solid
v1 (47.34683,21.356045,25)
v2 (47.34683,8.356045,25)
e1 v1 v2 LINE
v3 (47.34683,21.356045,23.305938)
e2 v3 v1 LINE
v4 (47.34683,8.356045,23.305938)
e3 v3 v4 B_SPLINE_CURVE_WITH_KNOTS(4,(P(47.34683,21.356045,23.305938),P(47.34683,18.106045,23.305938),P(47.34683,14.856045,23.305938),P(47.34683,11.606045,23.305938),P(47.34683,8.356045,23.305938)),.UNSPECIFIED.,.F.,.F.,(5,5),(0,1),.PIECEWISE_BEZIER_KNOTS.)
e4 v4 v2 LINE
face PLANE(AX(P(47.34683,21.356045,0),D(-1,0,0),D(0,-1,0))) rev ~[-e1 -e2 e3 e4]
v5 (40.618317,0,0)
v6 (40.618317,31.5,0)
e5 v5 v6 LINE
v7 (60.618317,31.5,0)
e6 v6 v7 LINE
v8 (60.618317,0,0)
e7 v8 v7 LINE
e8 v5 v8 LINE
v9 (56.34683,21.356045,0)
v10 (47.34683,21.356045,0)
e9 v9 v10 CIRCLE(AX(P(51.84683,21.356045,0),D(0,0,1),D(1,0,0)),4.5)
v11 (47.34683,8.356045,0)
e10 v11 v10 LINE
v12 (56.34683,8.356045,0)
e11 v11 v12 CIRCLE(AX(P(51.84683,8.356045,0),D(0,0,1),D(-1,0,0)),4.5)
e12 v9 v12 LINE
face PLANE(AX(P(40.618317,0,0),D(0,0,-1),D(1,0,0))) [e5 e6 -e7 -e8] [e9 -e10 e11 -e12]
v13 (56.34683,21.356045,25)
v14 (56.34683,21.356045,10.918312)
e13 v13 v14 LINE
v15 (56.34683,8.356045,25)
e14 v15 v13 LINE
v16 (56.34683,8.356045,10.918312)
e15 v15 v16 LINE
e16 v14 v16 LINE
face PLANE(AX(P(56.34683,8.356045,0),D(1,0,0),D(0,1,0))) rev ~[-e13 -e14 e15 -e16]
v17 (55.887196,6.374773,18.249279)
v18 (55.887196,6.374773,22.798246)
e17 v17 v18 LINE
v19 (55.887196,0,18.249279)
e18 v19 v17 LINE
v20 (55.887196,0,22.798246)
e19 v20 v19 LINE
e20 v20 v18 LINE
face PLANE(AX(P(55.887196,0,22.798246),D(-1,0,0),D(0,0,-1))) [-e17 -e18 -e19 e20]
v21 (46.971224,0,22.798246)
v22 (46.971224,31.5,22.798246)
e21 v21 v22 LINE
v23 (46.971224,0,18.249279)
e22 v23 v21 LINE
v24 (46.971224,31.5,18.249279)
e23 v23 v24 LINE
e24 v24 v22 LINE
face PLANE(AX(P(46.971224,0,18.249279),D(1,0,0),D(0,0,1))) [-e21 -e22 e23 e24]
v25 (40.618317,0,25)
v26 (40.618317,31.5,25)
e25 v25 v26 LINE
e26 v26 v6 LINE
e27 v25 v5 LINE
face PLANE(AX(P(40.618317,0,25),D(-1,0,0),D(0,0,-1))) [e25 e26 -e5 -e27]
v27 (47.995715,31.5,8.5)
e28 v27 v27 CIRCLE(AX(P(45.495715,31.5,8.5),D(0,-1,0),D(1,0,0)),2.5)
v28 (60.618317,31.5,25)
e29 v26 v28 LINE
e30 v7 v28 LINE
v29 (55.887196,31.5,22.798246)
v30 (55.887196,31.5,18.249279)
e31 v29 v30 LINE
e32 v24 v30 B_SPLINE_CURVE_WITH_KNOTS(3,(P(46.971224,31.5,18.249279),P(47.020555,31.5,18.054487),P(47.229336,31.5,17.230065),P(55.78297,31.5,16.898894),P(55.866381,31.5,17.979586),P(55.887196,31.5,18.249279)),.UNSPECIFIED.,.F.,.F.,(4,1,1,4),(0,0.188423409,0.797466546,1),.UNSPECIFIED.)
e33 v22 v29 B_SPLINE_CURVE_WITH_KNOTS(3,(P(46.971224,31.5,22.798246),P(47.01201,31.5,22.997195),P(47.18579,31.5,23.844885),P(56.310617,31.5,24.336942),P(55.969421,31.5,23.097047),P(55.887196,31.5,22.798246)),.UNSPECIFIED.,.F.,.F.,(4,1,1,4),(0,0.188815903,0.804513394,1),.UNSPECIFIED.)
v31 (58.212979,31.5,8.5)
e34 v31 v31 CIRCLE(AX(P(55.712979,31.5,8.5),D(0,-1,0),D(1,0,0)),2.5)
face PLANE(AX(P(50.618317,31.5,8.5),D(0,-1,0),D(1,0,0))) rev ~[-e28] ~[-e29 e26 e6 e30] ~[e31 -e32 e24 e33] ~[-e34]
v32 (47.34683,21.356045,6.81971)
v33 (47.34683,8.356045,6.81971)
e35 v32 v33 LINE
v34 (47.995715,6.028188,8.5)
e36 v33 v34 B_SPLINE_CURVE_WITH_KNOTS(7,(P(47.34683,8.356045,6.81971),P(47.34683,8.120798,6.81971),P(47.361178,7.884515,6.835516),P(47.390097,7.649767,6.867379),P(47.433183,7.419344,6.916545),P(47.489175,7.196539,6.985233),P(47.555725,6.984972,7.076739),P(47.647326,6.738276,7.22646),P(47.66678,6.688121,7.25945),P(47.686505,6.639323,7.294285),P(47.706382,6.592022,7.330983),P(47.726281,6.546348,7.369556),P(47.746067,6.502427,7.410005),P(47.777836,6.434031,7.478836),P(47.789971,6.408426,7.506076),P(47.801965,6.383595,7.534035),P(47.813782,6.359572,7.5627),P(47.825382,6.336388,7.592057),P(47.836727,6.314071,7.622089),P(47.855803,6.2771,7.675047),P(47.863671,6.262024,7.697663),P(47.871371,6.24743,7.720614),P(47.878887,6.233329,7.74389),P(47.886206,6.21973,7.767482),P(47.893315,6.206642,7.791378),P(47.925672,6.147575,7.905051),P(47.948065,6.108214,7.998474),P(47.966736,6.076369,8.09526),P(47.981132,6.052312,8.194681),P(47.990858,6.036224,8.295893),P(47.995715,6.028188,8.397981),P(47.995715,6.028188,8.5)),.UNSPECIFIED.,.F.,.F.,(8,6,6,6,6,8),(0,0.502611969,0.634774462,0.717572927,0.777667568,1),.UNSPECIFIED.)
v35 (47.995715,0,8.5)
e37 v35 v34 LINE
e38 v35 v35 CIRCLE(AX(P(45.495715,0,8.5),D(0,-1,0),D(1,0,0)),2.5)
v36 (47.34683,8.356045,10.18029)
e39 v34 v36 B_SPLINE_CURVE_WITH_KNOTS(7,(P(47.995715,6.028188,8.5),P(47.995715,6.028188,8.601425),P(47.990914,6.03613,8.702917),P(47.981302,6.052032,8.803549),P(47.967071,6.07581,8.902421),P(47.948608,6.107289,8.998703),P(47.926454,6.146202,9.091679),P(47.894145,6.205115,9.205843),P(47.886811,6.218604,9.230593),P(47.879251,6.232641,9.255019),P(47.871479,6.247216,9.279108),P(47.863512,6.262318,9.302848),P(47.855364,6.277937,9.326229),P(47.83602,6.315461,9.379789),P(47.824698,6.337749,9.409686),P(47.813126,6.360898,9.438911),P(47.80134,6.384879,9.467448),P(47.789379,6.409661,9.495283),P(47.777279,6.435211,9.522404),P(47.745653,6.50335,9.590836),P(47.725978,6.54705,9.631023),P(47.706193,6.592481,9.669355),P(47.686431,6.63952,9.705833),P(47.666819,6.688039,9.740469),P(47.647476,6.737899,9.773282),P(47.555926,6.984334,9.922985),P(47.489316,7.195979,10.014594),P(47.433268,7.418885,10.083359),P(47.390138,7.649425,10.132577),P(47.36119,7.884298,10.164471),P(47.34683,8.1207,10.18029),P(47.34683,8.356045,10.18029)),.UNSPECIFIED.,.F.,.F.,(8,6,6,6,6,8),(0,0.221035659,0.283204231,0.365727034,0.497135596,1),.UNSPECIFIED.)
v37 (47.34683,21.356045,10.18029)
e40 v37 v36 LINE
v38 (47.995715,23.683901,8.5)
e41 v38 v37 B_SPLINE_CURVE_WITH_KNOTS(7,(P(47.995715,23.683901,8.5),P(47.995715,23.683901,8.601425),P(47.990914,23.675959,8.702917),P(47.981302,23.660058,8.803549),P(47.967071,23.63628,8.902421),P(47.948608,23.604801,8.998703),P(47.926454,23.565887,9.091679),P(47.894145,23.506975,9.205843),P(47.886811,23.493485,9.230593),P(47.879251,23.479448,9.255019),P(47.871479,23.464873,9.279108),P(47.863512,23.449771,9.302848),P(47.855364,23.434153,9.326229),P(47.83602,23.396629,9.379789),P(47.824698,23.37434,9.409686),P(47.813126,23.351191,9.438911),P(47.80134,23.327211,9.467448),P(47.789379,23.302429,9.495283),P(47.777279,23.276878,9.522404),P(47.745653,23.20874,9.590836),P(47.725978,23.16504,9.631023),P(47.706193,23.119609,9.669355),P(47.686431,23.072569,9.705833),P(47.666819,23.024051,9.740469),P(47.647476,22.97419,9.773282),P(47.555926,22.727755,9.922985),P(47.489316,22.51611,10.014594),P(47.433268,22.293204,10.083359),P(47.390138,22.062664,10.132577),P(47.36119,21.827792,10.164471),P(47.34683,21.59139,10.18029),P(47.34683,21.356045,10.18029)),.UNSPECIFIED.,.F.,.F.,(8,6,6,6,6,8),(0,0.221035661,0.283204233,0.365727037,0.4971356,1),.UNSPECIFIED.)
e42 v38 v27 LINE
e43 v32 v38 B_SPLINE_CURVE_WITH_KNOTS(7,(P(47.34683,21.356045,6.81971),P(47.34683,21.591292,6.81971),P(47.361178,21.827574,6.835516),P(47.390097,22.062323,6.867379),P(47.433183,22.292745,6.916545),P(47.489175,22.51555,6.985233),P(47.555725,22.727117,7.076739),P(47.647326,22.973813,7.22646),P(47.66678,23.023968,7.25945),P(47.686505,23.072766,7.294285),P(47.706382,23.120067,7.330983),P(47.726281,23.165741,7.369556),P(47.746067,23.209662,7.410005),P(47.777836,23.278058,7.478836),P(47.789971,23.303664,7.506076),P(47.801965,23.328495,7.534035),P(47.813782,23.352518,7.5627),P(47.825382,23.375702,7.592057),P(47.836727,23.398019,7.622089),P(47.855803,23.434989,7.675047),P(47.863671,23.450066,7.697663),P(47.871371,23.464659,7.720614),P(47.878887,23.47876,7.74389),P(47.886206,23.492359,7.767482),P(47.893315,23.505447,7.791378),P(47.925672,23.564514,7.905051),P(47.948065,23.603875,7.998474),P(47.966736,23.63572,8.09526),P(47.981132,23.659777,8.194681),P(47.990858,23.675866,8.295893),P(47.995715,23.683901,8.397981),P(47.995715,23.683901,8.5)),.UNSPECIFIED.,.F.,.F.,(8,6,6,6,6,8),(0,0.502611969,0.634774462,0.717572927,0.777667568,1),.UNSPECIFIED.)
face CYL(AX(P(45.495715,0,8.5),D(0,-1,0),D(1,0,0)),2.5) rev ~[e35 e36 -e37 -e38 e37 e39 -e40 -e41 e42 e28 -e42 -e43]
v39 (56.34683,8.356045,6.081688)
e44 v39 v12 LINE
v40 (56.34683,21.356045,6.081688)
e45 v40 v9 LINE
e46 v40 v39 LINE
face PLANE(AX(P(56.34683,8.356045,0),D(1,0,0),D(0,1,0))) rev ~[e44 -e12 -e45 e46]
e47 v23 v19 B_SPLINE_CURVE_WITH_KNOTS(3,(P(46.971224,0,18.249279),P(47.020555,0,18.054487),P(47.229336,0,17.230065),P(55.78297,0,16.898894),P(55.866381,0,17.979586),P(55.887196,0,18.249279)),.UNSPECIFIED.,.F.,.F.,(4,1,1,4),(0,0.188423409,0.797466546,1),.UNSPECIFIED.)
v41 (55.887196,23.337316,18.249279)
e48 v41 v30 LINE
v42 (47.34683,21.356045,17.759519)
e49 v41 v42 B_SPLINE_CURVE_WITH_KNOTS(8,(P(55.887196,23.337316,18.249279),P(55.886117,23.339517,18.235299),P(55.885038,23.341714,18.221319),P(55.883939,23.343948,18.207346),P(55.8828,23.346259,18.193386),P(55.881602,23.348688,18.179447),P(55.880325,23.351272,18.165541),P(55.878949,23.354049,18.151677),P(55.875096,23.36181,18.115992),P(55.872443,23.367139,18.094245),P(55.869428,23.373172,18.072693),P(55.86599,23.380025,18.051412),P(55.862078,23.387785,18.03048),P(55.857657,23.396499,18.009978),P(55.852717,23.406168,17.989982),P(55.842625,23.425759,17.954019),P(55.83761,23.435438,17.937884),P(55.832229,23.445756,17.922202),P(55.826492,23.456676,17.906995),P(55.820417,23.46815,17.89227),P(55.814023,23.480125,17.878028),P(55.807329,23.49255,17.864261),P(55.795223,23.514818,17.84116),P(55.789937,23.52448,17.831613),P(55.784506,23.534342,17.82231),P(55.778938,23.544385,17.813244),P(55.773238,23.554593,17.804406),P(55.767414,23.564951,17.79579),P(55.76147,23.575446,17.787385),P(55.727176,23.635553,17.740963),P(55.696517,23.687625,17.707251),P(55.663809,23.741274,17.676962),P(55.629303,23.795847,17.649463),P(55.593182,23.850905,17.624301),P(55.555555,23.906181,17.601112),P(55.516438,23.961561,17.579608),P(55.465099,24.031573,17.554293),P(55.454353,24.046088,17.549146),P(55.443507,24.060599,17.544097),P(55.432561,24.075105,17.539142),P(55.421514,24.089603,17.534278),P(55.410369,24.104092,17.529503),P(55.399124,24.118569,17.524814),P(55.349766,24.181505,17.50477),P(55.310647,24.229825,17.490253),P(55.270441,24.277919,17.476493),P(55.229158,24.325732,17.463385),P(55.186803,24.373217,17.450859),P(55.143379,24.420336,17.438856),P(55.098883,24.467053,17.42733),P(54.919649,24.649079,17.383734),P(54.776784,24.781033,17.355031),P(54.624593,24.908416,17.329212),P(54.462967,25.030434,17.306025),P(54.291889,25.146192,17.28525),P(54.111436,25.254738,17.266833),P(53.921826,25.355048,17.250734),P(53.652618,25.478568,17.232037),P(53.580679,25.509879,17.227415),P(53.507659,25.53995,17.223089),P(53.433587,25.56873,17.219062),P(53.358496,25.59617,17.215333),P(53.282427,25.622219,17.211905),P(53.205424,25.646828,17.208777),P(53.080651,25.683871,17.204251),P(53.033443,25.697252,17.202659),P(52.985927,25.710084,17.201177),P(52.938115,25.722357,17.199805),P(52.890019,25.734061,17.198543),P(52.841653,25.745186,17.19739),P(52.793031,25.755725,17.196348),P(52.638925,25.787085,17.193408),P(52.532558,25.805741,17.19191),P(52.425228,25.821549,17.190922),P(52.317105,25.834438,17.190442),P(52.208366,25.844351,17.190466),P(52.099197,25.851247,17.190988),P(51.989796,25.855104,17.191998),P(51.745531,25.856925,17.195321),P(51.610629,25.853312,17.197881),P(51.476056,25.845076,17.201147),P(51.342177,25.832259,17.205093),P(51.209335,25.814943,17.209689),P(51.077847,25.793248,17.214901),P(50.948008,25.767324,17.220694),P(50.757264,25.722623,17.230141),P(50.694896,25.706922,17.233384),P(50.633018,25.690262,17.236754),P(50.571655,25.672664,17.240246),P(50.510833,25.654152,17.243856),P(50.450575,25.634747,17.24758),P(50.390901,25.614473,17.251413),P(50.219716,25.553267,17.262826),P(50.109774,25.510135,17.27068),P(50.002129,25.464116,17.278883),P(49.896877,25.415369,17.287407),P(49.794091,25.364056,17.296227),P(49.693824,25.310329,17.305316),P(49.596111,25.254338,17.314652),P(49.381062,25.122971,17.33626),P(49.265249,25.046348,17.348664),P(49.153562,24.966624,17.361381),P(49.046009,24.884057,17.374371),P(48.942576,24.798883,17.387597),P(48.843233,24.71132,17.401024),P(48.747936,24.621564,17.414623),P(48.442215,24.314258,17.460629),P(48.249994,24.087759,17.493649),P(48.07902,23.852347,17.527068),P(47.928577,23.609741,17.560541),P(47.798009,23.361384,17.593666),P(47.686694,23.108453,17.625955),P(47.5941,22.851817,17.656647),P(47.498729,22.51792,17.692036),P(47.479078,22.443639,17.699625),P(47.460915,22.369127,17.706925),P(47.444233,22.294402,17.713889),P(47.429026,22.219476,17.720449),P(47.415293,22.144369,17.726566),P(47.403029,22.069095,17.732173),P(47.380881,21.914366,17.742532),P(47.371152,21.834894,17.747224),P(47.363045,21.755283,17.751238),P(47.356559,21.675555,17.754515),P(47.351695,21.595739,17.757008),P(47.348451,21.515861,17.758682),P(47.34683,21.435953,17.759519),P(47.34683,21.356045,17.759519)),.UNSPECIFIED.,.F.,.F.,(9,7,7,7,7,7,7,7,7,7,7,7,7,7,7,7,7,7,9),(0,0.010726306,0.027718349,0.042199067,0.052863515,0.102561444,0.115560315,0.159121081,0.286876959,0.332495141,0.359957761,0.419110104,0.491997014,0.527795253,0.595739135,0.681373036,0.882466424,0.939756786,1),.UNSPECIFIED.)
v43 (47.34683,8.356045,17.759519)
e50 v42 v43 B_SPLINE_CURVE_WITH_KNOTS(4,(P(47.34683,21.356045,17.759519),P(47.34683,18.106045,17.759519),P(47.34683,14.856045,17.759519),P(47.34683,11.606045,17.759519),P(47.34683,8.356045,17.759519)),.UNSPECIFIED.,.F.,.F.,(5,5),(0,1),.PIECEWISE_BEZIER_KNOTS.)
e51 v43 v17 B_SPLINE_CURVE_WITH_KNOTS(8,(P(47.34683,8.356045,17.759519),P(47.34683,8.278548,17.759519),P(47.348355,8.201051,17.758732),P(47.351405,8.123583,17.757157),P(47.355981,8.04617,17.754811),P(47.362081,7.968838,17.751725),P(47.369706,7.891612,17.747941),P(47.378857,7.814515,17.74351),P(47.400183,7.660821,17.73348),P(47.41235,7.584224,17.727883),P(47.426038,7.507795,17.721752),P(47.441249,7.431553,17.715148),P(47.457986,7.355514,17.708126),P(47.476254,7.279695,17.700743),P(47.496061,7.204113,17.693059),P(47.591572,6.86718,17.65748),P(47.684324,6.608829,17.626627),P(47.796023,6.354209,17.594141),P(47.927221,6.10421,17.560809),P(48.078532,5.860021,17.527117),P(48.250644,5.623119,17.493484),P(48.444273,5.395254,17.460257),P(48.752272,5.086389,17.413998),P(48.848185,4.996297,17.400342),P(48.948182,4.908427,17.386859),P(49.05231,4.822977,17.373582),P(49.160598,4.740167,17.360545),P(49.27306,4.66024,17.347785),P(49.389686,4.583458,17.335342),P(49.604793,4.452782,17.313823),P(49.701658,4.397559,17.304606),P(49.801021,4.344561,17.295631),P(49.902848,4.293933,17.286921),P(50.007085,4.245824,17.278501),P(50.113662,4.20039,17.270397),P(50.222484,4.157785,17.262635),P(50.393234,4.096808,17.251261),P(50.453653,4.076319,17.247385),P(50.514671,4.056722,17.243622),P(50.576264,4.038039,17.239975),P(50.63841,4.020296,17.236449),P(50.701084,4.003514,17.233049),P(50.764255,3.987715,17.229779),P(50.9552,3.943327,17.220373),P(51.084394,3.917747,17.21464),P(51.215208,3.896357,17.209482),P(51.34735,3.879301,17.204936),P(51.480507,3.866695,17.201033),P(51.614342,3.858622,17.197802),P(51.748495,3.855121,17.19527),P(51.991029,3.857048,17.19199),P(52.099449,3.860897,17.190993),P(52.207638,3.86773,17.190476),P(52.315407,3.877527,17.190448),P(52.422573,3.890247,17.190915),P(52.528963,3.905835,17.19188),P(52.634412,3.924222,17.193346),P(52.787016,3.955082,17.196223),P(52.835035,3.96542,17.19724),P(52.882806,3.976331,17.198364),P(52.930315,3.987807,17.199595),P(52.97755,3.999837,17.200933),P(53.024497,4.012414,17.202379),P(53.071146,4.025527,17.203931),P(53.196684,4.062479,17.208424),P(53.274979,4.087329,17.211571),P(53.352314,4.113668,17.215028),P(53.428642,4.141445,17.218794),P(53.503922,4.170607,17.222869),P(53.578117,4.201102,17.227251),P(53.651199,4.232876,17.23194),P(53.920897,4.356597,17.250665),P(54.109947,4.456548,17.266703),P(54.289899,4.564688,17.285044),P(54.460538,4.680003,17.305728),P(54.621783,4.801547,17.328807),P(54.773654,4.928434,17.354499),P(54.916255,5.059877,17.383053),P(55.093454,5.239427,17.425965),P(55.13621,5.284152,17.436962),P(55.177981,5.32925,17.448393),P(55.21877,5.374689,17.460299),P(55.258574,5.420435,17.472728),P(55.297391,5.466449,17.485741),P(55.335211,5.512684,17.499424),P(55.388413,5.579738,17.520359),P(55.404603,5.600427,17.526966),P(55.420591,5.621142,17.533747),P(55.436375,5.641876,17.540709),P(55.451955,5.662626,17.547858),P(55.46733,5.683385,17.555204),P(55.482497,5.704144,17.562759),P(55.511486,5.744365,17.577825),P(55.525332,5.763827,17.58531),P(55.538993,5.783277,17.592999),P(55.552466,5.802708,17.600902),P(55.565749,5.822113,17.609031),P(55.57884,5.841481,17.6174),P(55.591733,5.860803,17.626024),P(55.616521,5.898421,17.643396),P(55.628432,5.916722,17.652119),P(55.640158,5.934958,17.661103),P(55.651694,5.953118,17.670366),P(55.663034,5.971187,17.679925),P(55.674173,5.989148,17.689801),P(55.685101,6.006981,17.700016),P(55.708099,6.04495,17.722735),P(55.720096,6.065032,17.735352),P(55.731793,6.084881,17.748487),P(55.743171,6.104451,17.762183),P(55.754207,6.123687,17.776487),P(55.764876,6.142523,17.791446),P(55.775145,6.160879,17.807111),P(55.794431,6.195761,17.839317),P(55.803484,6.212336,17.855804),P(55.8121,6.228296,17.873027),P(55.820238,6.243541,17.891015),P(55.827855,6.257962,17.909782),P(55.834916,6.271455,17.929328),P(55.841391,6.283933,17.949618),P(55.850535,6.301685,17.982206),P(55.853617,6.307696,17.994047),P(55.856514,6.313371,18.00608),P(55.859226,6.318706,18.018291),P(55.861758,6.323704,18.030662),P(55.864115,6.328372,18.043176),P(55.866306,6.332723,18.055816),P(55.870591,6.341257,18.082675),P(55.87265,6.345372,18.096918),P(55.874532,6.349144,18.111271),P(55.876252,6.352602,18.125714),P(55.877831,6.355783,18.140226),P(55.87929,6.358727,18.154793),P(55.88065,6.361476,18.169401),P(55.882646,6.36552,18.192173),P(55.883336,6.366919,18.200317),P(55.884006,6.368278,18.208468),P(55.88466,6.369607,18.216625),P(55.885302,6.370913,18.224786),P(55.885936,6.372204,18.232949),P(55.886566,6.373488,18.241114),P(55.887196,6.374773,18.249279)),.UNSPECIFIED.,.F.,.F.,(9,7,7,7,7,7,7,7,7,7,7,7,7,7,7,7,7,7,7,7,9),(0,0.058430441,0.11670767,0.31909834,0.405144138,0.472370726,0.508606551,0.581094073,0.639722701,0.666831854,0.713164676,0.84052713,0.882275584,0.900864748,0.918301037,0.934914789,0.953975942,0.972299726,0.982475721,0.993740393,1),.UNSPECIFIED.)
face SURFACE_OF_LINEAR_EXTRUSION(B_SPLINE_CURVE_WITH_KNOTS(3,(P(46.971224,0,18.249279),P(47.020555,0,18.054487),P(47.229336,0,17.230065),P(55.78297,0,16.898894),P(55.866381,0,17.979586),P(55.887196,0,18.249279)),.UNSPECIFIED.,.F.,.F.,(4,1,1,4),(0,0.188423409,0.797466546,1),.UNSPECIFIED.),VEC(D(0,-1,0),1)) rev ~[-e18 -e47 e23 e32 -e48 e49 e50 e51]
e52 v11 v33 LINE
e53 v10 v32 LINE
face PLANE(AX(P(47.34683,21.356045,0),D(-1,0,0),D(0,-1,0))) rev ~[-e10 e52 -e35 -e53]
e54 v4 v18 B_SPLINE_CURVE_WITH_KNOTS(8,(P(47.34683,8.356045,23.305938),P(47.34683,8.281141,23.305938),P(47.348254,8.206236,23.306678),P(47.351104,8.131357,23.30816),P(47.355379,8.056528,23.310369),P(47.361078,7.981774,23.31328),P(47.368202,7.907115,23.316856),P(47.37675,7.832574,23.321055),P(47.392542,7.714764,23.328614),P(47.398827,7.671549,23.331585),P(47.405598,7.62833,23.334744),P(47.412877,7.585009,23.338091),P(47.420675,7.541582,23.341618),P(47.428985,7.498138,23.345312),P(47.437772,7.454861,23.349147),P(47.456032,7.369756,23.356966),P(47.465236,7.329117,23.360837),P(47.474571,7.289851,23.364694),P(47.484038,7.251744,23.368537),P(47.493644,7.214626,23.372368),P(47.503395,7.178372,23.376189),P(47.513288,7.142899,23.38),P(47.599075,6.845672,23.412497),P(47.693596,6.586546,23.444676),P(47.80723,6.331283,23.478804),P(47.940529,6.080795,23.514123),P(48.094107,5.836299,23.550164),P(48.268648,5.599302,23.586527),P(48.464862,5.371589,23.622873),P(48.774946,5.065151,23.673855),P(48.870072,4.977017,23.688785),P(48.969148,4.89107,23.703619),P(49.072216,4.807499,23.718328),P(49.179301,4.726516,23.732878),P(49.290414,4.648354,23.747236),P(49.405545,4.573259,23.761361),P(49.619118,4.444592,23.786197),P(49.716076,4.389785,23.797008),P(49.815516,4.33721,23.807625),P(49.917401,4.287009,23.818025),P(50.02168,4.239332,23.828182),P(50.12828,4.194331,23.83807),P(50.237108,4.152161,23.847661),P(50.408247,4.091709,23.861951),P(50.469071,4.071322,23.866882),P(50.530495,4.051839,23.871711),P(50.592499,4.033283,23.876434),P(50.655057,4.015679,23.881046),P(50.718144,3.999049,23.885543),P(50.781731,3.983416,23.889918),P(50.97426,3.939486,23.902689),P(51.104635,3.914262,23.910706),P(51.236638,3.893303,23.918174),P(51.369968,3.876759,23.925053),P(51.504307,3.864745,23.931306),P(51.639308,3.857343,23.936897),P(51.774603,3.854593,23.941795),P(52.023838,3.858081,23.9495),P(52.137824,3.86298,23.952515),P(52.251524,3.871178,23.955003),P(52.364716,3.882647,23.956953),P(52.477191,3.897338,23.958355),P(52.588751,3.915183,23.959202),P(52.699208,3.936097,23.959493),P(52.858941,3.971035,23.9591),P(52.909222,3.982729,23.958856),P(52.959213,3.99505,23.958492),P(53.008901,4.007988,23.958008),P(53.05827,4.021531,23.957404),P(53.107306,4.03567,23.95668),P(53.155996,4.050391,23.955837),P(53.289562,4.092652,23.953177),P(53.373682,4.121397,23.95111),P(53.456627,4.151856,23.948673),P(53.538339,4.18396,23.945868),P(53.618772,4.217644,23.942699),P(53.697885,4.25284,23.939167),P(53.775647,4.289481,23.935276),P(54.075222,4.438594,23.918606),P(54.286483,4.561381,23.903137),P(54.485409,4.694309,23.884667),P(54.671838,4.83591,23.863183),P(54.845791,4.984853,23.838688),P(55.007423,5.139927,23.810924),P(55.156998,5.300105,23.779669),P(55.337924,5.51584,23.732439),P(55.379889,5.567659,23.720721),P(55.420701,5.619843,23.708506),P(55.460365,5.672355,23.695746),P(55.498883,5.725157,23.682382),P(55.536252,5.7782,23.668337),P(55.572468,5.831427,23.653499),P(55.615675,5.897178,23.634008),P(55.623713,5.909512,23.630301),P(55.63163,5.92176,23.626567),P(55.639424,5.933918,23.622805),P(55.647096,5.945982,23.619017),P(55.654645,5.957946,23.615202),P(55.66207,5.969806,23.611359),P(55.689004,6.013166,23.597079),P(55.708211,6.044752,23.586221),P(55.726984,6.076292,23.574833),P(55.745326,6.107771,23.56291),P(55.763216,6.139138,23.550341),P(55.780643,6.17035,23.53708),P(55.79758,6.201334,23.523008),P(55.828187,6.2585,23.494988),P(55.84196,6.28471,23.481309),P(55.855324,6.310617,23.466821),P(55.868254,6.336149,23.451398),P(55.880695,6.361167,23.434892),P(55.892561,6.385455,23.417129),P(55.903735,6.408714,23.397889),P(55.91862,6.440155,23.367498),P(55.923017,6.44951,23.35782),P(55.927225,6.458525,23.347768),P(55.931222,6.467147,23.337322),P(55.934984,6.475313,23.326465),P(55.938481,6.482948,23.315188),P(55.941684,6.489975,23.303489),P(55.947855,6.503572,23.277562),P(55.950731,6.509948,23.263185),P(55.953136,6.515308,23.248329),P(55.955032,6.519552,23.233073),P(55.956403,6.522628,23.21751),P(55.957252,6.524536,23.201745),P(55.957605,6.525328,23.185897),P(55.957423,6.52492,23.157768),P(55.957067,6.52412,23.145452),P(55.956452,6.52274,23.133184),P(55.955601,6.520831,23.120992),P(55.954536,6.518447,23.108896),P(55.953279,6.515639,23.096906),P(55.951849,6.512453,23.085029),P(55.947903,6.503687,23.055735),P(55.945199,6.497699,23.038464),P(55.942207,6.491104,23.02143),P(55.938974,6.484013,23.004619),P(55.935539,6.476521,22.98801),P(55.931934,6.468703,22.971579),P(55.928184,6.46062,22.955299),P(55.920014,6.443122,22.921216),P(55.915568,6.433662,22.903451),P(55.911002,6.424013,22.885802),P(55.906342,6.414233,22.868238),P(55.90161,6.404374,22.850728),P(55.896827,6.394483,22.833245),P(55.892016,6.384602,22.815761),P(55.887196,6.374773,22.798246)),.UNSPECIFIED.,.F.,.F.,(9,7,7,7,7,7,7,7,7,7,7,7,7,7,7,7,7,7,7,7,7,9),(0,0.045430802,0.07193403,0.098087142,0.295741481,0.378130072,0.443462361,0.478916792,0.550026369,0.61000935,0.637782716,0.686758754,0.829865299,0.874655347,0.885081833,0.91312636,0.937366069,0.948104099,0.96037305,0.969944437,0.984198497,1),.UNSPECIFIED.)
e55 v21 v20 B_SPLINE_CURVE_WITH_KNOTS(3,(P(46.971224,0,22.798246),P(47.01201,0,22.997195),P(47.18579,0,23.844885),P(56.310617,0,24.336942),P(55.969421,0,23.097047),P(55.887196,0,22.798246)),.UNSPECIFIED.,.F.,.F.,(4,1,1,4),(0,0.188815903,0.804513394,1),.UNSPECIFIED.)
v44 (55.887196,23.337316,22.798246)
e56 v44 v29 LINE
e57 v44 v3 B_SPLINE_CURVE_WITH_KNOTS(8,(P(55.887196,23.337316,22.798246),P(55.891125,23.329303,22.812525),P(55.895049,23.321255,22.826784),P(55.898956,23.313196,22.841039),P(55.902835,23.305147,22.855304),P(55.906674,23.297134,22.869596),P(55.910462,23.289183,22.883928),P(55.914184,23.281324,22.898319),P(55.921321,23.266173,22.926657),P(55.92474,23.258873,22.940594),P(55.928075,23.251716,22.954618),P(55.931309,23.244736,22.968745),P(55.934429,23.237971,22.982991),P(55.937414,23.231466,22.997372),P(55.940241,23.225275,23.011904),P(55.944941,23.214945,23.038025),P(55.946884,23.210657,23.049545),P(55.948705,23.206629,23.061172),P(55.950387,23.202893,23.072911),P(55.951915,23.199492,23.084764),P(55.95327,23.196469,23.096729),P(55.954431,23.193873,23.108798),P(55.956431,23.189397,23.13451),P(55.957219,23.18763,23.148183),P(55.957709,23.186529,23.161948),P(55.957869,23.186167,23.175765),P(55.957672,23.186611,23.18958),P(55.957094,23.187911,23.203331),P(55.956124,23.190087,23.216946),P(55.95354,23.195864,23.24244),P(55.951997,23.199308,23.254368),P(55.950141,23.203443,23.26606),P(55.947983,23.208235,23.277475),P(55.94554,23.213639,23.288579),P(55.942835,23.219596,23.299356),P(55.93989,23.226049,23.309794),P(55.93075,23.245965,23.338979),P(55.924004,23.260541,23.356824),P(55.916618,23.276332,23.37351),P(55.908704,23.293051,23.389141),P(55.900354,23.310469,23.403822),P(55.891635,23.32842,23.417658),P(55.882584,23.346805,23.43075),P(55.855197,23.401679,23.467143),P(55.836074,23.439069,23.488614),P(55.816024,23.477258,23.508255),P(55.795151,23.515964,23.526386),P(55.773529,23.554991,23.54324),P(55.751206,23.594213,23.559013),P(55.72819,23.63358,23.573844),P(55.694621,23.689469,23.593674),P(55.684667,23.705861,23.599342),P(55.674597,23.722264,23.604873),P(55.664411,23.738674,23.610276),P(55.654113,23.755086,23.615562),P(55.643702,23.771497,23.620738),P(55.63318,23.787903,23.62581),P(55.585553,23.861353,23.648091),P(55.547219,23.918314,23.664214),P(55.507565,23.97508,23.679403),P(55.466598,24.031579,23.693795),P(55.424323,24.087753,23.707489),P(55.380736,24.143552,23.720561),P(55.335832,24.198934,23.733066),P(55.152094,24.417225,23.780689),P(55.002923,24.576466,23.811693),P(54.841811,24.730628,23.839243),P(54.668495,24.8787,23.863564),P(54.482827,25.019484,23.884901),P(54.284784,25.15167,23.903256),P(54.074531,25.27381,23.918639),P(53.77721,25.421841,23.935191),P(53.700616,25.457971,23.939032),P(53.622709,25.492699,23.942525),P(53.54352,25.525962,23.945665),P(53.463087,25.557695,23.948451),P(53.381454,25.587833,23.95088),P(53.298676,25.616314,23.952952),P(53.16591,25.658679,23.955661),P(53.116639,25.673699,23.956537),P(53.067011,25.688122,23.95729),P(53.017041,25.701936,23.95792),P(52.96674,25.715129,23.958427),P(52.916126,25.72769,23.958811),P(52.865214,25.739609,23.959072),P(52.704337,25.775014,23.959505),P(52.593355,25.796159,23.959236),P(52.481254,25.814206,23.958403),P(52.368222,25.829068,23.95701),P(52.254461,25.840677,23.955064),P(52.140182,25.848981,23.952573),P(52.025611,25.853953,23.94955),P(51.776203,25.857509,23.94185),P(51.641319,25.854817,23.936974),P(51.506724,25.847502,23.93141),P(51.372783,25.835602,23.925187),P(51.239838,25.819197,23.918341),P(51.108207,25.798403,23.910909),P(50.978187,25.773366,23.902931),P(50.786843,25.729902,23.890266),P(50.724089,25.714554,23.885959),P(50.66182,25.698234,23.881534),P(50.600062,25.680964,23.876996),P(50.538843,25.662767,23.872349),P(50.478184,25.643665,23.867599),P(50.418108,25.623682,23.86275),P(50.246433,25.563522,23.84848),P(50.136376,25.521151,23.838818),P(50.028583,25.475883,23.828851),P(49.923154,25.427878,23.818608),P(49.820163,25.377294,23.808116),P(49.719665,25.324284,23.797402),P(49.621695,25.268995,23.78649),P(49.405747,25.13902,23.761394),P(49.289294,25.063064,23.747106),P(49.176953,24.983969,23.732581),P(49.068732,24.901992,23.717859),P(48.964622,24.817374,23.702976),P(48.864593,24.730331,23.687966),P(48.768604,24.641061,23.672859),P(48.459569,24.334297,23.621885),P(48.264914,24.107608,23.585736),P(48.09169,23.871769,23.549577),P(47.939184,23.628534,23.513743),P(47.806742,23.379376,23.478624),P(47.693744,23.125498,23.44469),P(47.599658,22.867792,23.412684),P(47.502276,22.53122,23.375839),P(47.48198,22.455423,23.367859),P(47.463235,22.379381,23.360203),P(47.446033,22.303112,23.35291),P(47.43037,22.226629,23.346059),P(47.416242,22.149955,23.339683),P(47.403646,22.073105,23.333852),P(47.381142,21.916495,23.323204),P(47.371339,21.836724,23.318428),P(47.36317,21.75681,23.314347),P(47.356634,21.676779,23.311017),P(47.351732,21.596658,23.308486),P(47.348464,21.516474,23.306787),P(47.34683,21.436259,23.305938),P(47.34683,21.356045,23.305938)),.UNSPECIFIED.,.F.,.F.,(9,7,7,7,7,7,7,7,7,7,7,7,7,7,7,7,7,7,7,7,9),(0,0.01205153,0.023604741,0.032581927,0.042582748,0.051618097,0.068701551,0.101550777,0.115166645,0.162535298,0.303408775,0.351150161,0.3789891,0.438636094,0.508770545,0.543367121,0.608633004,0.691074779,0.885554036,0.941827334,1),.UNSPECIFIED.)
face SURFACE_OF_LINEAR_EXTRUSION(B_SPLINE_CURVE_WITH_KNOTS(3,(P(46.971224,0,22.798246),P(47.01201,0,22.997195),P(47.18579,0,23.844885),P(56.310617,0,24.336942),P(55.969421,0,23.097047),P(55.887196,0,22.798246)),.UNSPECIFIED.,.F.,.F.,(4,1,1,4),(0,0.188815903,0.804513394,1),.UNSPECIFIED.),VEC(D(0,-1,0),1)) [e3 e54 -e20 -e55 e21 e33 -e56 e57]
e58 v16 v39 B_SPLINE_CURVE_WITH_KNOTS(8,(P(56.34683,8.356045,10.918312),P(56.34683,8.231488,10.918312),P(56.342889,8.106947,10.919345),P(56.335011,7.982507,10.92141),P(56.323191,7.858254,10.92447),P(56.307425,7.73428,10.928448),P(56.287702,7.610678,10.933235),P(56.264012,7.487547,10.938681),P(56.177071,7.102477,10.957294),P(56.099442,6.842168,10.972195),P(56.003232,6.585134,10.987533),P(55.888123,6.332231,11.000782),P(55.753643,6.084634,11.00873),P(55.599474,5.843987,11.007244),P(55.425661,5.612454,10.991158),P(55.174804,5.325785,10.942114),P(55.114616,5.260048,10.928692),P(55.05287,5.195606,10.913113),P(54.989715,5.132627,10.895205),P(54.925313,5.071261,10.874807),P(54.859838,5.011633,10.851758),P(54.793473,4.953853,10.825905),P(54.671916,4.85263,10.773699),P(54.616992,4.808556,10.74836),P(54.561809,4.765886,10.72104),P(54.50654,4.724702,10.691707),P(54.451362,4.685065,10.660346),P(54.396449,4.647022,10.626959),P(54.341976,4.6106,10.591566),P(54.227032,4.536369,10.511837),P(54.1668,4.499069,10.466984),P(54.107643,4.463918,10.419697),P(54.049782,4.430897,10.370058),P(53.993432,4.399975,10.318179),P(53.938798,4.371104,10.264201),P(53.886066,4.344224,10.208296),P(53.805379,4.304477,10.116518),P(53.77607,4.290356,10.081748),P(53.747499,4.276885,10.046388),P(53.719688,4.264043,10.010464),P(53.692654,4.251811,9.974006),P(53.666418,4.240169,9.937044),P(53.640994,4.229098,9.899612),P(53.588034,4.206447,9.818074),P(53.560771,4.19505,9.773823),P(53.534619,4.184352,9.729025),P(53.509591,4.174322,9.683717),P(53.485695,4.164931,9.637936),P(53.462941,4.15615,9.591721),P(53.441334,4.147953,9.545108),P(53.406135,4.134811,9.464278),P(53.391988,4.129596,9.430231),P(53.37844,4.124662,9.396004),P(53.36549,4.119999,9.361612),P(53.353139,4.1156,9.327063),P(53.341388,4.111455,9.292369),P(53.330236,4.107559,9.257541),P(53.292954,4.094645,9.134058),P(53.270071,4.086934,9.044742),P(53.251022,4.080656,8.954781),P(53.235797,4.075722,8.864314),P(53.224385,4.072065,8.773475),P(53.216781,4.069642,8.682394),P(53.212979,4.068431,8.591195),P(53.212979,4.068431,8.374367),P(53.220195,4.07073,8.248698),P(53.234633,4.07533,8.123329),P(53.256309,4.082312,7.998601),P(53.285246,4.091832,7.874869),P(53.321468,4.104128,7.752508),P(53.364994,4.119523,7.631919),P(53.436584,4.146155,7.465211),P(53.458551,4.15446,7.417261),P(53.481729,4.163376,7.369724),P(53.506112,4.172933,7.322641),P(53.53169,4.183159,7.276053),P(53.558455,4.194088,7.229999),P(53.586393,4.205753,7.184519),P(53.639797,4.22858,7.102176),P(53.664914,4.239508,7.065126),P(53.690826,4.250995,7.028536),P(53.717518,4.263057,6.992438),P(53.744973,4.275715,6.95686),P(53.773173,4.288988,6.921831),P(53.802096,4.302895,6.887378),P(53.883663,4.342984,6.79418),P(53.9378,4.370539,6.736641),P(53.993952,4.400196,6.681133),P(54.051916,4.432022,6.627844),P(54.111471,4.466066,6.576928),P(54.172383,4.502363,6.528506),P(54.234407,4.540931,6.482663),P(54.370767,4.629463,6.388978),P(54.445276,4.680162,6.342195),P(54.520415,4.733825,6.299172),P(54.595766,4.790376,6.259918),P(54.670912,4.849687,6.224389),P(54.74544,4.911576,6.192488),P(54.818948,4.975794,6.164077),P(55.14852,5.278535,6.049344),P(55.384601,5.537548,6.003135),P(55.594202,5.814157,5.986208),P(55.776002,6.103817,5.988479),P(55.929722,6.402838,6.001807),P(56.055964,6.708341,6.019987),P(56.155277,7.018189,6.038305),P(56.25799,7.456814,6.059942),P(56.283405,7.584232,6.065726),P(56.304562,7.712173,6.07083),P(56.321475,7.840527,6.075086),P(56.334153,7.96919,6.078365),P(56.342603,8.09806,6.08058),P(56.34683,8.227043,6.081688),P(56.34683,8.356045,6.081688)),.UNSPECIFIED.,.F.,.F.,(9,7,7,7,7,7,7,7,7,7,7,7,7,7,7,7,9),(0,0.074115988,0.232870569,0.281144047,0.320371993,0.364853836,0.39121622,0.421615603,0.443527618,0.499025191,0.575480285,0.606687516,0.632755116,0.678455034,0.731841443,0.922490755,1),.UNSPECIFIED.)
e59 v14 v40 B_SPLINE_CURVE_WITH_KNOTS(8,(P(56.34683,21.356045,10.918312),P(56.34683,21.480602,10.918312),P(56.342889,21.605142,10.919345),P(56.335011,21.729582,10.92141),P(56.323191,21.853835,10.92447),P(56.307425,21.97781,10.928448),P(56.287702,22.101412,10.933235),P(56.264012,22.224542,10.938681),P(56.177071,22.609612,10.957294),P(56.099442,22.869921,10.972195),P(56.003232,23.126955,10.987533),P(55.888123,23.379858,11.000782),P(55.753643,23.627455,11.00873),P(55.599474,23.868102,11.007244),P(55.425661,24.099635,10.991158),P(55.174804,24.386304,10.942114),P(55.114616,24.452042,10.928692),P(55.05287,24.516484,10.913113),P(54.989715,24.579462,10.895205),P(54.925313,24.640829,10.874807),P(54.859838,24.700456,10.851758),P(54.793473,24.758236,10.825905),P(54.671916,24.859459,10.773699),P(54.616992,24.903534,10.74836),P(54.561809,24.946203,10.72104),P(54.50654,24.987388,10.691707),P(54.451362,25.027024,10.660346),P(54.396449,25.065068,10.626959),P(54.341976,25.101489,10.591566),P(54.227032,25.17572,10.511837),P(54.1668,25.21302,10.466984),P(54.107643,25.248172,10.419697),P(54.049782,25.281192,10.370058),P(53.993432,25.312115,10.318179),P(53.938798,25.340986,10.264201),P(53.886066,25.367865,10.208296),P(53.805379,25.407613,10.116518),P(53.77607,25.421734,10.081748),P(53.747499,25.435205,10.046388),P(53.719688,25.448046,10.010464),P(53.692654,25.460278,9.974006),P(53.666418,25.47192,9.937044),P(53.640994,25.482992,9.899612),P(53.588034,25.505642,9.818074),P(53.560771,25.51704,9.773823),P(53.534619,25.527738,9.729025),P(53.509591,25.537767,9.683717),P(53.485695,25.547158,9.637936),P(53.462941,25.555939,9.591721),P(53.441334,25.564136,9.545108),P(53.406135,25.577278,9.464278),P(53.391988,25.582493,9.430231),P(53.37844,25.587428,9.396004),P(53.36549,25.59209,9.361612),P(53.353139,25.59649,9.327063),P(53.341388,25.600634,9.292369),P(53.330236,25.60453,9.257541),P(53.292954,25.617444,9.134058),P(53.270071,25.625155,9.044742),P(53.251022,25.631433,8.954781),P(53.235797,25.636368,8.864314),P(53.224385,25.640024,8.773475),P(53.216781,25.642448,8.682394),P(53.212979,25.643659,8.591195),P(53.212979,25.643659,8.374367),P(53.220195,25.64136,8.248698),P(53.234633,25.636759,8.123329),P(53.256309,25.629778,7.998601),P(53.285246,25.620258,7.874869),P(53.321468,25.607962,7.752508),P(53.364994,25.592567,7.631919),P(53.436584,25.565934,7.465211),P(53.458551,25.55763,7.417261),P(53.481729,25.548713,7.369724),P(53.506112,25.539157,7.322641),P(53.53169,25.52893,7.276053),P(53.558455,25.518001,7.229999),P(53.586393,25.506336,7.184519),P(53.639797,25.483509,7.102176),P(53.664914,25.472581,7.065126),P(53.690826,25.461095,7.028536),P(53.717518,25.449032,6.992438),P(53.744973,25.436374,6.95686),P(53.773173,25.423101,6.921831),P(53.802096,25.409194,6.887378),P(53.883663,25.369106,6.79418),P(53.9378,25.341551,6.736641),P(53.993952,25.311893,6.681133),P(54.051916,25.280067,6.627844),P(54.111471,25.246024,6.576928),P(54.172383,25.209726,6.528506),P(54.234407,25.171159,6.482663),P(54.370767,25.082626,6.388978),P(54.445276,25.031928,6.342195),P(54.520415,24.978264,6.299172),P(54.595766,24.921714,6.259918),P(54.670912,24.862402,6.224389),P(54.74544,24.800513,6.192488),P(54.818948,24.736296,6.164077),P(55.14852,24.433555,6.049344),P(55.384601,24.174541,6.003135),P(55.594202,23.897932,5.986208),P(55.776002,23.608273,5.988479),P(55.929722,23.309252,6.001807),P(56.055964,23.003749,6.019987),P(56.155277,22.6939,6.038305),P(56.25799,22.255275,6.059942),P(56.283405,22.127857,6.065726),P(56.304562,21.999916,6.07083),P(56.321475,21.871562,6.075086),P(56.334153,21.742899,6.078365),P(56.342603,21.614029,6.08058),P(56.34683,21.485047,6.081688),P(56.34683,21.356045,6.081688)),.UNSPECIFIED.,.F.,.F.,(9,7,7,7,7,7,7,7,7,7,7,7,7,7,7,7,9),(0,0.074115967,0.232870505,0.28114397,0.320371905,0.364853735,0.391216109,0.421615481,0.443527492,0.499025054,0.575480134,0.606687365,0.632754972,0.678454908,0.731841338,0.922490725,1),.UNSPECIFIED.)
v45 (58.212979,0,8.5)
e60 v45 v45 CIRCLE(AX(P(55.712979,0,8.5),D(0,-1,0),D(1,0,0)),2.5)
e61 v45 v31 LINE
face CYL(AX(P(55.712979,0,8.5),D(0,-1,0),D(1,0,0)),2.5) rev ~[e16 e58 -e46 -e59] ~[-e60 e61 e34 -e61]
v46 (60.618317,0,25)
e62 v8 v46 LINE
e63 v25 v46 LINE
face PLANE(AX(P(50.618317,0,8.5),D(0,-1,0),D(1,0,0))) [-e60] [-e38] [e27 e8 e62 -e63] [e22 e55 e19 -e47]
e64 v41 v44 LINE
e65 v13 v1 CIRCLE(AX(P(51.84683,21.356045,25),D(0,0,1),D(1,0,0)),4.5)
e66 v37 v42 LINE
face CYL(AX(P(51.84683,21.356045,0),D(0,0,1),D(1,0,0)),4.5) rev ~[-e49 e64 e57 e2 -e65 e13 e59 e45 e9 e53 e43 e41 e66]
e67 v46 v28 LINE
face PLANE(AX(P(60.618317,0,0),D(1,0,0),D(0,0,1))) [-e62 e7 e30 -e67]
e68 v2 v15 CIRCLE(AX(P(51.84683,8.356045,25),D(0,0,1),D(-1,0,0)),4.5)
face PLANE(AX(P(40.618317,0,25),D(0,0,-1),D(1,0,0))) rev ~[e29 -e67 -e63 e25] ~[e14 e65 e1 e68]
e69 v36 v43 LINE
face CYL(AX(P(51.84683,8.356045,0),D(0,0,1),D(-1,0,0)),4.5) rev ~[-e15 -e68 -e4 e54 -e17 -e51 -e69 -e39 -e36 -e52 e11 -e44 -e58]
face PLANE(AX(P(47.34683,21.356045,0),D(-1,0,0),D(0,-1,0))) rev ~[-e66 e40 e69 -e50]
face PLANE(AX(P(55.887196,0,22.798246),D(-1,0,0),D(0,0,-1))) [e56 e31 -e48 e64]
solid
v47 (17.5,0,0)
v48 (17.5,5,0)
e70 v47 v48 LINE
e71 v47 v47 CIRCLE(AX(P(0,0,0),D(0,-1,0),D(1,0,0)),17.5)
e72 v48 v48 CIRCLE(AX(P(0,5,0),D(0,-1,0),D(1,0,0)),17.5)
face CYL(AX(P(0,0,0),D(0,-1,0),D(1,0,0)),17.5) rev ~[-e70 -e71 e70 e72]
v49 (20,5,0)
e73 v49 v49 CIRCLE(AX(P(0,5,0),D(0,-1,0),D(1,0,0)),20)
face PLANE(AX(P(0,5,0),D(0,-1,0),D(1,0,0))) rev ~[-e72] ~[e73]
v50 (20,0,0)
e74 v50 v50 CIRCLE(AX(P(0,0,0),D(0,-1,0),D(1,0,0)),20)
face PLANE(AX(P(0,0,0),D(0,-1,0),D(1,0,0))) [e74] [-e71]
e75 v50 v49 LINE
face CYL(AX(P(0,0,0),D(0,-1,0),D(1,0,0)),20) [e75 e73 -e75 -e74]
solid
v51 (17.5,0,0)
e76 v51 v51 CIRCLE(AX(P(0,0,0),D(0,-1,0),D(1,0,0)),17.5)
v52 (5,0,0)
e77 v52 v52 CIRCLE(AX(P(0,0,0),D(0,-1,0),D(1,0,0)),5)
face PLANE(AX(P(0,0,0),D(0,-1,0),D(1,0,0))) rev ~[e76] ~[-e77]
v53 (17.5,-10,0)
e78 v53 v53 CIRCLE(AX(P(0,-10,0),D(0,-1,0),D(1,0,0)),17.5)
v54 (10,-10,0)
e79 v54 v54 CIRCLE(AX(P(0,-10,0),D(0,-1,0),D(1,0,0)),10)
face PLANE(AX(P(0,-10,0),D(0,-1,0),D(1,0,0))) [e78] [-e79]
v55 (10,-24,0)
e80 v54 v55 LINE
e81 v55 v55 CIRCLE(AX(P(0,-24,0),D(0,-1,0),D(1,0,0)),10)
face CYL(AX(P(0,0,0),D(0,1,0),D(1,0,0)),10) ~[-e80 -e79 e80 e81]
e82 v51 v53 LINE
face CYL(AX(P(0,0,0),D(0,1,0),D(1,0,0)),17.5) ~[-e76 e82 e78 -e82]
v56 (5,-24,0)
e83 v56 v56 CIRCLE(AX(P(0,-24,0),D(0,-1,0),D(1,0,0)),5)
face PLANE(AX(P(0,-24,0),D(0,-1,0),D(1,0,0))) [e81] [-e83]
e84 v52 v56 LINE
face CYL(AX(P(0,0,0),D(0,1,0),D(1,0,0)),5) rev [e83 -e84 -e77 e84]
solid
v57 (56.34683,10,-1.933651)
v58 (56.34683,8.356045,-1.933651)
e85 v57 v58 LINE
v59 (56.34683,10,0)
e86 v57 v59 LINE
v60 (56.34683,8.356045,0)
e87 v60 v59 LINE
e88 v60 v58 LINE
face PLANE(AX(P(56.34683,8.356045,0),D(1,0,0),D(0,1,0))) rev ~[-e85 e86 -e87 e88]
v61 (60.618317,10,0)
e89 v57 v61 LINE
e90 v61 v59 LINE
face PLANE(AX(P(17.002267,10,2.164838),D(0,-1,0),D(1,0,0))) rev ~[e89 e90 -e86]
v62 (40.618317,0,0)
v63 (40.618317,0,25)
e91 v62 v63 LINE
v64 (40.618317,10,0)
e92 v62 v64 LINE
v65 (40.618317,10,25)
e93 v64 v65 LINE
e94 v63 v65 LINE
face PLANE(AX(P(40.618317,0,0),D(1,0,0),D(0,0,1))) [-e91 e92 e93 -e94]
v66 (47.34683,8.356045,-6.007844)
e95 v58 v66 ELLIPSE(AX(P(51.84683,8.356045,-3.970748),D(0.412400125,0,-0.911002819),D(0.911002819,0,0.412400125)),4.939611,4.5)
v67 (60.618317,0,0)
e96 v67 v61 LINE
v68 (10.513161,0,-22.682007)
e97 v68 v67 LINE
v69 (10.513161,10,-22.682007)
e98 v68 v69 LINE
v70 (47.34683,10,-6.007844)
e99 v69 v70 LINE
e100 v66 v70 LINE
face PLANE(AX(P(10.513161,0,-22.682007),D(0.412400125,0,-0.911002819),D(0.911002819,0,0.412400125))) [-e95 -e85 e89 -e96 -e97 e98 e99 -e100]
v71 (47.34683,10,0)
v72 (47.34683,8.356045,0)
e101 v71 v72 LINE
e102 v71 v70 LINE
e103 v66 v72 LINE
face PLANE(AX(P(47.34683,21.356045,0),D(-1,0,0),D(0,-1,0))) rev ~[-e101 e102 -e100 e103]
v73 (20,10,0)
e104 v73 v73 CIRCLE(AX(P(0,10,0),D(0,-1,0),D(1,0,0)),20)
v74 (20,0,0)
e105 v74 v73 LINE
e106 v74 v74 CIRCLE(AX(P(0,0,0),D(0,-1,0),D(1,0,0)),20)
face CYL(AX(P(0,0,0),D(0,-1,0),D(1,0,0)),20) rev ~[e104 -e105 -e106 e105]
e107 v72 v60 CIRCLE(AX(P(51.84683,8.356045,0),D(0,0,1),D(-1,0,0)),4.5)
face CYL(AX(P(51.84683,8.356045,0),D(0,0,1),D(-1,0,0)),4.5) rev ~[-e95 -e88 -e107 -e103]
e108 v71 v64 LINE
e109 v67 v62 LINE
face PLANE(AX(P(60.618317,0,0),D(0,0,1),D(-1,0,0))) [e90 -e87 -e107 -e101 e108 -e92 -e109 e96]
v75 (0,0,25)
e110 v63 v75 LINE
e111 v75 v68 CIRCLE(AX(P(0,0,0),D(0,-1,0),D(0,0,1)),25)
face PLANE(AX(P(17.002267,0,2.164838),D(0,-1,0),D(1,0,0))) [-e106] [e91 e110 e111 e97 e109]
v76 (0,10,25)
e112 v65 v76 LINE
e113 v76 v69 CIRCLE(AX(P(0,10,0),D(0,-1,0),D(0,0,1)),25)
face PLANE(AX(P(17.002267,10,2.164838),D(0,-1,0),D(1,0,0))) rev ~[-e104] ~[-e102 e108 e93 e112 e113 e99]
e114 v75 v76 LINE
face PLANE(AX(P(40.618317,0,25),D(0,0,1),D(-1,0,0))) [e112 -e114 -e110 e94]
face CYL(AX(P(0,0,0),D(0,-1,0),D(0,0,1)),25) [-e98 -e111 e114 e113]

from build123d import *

# Parameters (mm, degrees)
F0_R          = 20
F1_DEPTH      = 10
F0_R_2        = 17.5
F2_DEPTH      = 5
F0_R_3        = 10
F3_DEPTH      = 10
F0_R_4        = 5
F4_DEPTH      = 24
F0_W          = 20
F0_H          = 17
F0_R_5        = 2.5
F0_H_2        = 8
F5_DEPTH      = 31.5
F7_DEPTH      = 25
F7_DEPTH_BACK = 25


with BuildPart() as f1:
    # F0 (on Front) → F1 (new body)
    with BuildSketch(Plane.XZ):
        with BuildLine():
            ThreePointArc((0, 25), (-24.4136250072, -5.3828351274), (10.513161462, -22.6820068793))
            Line((10.513161462, -22.6820068793), (60.6183165254, 0))
            Line((60.6183165254, 0), (40.6183165254, 0))
            Line((40.6183165254, 0), (40.6183165254, 17))
            Line((40.6183165254, 17), (40.6183165254, 25))
            Line((40.6183165254, 25), (0, 25))
        make_face()
        Circle(F0_R, mode=Mode.SUBTRACT)
    extrude(amount=-F1_DEPTH)


with BuildPart() as f2:
    # F0 (on Front) → F2 (new body)
    with BuildSketch(Plane.XZ):
        Circle(F0_R)
        Circle(F0_R_2, mode=Mode.SUBTRACT)
    extrude(amount=-F2_DEPTH)


with BuildPart() as f3:
    # F0 (on Front) → F3 (new body)
    with BuildSketch(Plane.XZ):
        Circle(F0_R_2)
        Circle(F0_R_3, mode=Mode.SUBTRACT)
    extrude(amount=F3_DEPTH)

    # F0 (on Front) → F4 (join)
    with BuildSketch(Plane.XZ):
        Circle(F0_R_3)
        Circle(F0_R_4, mode=Mode.SUBTRACT)
    extrude(amount=F4_DEPTH)


with BuildPart() as f5:
    # F0 (on Front) → F5 (new body)
    with BuildSketch(Plane.XZ):
        with Locations((50.6183165254, 8.5)):
            Rectangle(F0_W, F0_H)
        with Locations((45.4957149923, 8.5)):
            Circle(F0_R_5, mode=Mode.SUBTRACT)
        with Locations((55.7129792869, 8.5)):
            Circle(F0_R_5, mode=Mode.SUBTRACT)
        with Locations((50.6183165254, 21)):
            Rectangle(F0_W, F0_H_2)
        with BuildLine():
            Line((46.9712242484, 18.2492788881), (46.9712242484, 22.7982457727))
            add(Edge.make_bspline(
                [(46.9712242484, 22.7982457727), (47.0120098226, 22.9971951161), (47.1857904213, 23.8448854268), (56.3106171556, 24.336941652), (55.96942084, 23.0970469938), (55.887196213, 22.7982457727)],
                knots=[0, 0, 0, 0, 0.188815903, 0.8045133939, 1, 1, 1, 1], degree=3))
            Line((55.887196213, 22.7982457727), (55.887196213, 18.2492788881))
            add(Edge.make_bspline(
                [(46.9712242484, 18.2492788881), (47.0205545118, 18.0544865699), (47.2293355492, 17.2300648164), (55.7829701616, 16.898893848), (55.8663806592, 17.9795861186), (55.887196213, 18.2492788881)],
                knots=[0, 0, 0, 0, 0.1884234089, 0.7974665457, 1, 1, 1, 1], degree=3))
        make_face(mode=Mode.SUBTRACT)
    extrude(amount=-F5_DEPTH)


with BuildPart() as f7_tool:
    # F6 (on Top) → F7 (new body, two sides)
    with BuildSketch(Plane.XY) as f7_sk:
        with BuildLine():
            ThreePointArc((56.346829528, 21.3560446687), (51.846829528, 25.8560446687), (47.346829528, 21.3560446687))
            Line((47.346829528, 21.3560446687), (47.346829528, 8.3560446687))
            ThreePointArc((47.346829528, 8.3560446687), (51.846829528, 3.8560446687), (56.346829528, 8.3560446687))
            Line((56.346829528, 8.3560446687), (56.346829528, 21.3560446687))
        make_face()
    extrude(amount=F7_DEPTH)
    extrude(f7_sk.sketch, amount=-F7_DEPTH_BACK)


with BuildPart() as f1_1:
    add(f1.part)

    # F7: cut by f7_tool
    add(f7_tool.part, mode=Mode.SUBTRACT)


with BuildPart() as f5_1:
    add(f5.part)

    # F7: cut by f7_tool
    add(f7_tool.part, mode=Mode.SUBTRACT)


solid = Compound([f2.part, f3.part, f1_1.part, f5_1.part])
